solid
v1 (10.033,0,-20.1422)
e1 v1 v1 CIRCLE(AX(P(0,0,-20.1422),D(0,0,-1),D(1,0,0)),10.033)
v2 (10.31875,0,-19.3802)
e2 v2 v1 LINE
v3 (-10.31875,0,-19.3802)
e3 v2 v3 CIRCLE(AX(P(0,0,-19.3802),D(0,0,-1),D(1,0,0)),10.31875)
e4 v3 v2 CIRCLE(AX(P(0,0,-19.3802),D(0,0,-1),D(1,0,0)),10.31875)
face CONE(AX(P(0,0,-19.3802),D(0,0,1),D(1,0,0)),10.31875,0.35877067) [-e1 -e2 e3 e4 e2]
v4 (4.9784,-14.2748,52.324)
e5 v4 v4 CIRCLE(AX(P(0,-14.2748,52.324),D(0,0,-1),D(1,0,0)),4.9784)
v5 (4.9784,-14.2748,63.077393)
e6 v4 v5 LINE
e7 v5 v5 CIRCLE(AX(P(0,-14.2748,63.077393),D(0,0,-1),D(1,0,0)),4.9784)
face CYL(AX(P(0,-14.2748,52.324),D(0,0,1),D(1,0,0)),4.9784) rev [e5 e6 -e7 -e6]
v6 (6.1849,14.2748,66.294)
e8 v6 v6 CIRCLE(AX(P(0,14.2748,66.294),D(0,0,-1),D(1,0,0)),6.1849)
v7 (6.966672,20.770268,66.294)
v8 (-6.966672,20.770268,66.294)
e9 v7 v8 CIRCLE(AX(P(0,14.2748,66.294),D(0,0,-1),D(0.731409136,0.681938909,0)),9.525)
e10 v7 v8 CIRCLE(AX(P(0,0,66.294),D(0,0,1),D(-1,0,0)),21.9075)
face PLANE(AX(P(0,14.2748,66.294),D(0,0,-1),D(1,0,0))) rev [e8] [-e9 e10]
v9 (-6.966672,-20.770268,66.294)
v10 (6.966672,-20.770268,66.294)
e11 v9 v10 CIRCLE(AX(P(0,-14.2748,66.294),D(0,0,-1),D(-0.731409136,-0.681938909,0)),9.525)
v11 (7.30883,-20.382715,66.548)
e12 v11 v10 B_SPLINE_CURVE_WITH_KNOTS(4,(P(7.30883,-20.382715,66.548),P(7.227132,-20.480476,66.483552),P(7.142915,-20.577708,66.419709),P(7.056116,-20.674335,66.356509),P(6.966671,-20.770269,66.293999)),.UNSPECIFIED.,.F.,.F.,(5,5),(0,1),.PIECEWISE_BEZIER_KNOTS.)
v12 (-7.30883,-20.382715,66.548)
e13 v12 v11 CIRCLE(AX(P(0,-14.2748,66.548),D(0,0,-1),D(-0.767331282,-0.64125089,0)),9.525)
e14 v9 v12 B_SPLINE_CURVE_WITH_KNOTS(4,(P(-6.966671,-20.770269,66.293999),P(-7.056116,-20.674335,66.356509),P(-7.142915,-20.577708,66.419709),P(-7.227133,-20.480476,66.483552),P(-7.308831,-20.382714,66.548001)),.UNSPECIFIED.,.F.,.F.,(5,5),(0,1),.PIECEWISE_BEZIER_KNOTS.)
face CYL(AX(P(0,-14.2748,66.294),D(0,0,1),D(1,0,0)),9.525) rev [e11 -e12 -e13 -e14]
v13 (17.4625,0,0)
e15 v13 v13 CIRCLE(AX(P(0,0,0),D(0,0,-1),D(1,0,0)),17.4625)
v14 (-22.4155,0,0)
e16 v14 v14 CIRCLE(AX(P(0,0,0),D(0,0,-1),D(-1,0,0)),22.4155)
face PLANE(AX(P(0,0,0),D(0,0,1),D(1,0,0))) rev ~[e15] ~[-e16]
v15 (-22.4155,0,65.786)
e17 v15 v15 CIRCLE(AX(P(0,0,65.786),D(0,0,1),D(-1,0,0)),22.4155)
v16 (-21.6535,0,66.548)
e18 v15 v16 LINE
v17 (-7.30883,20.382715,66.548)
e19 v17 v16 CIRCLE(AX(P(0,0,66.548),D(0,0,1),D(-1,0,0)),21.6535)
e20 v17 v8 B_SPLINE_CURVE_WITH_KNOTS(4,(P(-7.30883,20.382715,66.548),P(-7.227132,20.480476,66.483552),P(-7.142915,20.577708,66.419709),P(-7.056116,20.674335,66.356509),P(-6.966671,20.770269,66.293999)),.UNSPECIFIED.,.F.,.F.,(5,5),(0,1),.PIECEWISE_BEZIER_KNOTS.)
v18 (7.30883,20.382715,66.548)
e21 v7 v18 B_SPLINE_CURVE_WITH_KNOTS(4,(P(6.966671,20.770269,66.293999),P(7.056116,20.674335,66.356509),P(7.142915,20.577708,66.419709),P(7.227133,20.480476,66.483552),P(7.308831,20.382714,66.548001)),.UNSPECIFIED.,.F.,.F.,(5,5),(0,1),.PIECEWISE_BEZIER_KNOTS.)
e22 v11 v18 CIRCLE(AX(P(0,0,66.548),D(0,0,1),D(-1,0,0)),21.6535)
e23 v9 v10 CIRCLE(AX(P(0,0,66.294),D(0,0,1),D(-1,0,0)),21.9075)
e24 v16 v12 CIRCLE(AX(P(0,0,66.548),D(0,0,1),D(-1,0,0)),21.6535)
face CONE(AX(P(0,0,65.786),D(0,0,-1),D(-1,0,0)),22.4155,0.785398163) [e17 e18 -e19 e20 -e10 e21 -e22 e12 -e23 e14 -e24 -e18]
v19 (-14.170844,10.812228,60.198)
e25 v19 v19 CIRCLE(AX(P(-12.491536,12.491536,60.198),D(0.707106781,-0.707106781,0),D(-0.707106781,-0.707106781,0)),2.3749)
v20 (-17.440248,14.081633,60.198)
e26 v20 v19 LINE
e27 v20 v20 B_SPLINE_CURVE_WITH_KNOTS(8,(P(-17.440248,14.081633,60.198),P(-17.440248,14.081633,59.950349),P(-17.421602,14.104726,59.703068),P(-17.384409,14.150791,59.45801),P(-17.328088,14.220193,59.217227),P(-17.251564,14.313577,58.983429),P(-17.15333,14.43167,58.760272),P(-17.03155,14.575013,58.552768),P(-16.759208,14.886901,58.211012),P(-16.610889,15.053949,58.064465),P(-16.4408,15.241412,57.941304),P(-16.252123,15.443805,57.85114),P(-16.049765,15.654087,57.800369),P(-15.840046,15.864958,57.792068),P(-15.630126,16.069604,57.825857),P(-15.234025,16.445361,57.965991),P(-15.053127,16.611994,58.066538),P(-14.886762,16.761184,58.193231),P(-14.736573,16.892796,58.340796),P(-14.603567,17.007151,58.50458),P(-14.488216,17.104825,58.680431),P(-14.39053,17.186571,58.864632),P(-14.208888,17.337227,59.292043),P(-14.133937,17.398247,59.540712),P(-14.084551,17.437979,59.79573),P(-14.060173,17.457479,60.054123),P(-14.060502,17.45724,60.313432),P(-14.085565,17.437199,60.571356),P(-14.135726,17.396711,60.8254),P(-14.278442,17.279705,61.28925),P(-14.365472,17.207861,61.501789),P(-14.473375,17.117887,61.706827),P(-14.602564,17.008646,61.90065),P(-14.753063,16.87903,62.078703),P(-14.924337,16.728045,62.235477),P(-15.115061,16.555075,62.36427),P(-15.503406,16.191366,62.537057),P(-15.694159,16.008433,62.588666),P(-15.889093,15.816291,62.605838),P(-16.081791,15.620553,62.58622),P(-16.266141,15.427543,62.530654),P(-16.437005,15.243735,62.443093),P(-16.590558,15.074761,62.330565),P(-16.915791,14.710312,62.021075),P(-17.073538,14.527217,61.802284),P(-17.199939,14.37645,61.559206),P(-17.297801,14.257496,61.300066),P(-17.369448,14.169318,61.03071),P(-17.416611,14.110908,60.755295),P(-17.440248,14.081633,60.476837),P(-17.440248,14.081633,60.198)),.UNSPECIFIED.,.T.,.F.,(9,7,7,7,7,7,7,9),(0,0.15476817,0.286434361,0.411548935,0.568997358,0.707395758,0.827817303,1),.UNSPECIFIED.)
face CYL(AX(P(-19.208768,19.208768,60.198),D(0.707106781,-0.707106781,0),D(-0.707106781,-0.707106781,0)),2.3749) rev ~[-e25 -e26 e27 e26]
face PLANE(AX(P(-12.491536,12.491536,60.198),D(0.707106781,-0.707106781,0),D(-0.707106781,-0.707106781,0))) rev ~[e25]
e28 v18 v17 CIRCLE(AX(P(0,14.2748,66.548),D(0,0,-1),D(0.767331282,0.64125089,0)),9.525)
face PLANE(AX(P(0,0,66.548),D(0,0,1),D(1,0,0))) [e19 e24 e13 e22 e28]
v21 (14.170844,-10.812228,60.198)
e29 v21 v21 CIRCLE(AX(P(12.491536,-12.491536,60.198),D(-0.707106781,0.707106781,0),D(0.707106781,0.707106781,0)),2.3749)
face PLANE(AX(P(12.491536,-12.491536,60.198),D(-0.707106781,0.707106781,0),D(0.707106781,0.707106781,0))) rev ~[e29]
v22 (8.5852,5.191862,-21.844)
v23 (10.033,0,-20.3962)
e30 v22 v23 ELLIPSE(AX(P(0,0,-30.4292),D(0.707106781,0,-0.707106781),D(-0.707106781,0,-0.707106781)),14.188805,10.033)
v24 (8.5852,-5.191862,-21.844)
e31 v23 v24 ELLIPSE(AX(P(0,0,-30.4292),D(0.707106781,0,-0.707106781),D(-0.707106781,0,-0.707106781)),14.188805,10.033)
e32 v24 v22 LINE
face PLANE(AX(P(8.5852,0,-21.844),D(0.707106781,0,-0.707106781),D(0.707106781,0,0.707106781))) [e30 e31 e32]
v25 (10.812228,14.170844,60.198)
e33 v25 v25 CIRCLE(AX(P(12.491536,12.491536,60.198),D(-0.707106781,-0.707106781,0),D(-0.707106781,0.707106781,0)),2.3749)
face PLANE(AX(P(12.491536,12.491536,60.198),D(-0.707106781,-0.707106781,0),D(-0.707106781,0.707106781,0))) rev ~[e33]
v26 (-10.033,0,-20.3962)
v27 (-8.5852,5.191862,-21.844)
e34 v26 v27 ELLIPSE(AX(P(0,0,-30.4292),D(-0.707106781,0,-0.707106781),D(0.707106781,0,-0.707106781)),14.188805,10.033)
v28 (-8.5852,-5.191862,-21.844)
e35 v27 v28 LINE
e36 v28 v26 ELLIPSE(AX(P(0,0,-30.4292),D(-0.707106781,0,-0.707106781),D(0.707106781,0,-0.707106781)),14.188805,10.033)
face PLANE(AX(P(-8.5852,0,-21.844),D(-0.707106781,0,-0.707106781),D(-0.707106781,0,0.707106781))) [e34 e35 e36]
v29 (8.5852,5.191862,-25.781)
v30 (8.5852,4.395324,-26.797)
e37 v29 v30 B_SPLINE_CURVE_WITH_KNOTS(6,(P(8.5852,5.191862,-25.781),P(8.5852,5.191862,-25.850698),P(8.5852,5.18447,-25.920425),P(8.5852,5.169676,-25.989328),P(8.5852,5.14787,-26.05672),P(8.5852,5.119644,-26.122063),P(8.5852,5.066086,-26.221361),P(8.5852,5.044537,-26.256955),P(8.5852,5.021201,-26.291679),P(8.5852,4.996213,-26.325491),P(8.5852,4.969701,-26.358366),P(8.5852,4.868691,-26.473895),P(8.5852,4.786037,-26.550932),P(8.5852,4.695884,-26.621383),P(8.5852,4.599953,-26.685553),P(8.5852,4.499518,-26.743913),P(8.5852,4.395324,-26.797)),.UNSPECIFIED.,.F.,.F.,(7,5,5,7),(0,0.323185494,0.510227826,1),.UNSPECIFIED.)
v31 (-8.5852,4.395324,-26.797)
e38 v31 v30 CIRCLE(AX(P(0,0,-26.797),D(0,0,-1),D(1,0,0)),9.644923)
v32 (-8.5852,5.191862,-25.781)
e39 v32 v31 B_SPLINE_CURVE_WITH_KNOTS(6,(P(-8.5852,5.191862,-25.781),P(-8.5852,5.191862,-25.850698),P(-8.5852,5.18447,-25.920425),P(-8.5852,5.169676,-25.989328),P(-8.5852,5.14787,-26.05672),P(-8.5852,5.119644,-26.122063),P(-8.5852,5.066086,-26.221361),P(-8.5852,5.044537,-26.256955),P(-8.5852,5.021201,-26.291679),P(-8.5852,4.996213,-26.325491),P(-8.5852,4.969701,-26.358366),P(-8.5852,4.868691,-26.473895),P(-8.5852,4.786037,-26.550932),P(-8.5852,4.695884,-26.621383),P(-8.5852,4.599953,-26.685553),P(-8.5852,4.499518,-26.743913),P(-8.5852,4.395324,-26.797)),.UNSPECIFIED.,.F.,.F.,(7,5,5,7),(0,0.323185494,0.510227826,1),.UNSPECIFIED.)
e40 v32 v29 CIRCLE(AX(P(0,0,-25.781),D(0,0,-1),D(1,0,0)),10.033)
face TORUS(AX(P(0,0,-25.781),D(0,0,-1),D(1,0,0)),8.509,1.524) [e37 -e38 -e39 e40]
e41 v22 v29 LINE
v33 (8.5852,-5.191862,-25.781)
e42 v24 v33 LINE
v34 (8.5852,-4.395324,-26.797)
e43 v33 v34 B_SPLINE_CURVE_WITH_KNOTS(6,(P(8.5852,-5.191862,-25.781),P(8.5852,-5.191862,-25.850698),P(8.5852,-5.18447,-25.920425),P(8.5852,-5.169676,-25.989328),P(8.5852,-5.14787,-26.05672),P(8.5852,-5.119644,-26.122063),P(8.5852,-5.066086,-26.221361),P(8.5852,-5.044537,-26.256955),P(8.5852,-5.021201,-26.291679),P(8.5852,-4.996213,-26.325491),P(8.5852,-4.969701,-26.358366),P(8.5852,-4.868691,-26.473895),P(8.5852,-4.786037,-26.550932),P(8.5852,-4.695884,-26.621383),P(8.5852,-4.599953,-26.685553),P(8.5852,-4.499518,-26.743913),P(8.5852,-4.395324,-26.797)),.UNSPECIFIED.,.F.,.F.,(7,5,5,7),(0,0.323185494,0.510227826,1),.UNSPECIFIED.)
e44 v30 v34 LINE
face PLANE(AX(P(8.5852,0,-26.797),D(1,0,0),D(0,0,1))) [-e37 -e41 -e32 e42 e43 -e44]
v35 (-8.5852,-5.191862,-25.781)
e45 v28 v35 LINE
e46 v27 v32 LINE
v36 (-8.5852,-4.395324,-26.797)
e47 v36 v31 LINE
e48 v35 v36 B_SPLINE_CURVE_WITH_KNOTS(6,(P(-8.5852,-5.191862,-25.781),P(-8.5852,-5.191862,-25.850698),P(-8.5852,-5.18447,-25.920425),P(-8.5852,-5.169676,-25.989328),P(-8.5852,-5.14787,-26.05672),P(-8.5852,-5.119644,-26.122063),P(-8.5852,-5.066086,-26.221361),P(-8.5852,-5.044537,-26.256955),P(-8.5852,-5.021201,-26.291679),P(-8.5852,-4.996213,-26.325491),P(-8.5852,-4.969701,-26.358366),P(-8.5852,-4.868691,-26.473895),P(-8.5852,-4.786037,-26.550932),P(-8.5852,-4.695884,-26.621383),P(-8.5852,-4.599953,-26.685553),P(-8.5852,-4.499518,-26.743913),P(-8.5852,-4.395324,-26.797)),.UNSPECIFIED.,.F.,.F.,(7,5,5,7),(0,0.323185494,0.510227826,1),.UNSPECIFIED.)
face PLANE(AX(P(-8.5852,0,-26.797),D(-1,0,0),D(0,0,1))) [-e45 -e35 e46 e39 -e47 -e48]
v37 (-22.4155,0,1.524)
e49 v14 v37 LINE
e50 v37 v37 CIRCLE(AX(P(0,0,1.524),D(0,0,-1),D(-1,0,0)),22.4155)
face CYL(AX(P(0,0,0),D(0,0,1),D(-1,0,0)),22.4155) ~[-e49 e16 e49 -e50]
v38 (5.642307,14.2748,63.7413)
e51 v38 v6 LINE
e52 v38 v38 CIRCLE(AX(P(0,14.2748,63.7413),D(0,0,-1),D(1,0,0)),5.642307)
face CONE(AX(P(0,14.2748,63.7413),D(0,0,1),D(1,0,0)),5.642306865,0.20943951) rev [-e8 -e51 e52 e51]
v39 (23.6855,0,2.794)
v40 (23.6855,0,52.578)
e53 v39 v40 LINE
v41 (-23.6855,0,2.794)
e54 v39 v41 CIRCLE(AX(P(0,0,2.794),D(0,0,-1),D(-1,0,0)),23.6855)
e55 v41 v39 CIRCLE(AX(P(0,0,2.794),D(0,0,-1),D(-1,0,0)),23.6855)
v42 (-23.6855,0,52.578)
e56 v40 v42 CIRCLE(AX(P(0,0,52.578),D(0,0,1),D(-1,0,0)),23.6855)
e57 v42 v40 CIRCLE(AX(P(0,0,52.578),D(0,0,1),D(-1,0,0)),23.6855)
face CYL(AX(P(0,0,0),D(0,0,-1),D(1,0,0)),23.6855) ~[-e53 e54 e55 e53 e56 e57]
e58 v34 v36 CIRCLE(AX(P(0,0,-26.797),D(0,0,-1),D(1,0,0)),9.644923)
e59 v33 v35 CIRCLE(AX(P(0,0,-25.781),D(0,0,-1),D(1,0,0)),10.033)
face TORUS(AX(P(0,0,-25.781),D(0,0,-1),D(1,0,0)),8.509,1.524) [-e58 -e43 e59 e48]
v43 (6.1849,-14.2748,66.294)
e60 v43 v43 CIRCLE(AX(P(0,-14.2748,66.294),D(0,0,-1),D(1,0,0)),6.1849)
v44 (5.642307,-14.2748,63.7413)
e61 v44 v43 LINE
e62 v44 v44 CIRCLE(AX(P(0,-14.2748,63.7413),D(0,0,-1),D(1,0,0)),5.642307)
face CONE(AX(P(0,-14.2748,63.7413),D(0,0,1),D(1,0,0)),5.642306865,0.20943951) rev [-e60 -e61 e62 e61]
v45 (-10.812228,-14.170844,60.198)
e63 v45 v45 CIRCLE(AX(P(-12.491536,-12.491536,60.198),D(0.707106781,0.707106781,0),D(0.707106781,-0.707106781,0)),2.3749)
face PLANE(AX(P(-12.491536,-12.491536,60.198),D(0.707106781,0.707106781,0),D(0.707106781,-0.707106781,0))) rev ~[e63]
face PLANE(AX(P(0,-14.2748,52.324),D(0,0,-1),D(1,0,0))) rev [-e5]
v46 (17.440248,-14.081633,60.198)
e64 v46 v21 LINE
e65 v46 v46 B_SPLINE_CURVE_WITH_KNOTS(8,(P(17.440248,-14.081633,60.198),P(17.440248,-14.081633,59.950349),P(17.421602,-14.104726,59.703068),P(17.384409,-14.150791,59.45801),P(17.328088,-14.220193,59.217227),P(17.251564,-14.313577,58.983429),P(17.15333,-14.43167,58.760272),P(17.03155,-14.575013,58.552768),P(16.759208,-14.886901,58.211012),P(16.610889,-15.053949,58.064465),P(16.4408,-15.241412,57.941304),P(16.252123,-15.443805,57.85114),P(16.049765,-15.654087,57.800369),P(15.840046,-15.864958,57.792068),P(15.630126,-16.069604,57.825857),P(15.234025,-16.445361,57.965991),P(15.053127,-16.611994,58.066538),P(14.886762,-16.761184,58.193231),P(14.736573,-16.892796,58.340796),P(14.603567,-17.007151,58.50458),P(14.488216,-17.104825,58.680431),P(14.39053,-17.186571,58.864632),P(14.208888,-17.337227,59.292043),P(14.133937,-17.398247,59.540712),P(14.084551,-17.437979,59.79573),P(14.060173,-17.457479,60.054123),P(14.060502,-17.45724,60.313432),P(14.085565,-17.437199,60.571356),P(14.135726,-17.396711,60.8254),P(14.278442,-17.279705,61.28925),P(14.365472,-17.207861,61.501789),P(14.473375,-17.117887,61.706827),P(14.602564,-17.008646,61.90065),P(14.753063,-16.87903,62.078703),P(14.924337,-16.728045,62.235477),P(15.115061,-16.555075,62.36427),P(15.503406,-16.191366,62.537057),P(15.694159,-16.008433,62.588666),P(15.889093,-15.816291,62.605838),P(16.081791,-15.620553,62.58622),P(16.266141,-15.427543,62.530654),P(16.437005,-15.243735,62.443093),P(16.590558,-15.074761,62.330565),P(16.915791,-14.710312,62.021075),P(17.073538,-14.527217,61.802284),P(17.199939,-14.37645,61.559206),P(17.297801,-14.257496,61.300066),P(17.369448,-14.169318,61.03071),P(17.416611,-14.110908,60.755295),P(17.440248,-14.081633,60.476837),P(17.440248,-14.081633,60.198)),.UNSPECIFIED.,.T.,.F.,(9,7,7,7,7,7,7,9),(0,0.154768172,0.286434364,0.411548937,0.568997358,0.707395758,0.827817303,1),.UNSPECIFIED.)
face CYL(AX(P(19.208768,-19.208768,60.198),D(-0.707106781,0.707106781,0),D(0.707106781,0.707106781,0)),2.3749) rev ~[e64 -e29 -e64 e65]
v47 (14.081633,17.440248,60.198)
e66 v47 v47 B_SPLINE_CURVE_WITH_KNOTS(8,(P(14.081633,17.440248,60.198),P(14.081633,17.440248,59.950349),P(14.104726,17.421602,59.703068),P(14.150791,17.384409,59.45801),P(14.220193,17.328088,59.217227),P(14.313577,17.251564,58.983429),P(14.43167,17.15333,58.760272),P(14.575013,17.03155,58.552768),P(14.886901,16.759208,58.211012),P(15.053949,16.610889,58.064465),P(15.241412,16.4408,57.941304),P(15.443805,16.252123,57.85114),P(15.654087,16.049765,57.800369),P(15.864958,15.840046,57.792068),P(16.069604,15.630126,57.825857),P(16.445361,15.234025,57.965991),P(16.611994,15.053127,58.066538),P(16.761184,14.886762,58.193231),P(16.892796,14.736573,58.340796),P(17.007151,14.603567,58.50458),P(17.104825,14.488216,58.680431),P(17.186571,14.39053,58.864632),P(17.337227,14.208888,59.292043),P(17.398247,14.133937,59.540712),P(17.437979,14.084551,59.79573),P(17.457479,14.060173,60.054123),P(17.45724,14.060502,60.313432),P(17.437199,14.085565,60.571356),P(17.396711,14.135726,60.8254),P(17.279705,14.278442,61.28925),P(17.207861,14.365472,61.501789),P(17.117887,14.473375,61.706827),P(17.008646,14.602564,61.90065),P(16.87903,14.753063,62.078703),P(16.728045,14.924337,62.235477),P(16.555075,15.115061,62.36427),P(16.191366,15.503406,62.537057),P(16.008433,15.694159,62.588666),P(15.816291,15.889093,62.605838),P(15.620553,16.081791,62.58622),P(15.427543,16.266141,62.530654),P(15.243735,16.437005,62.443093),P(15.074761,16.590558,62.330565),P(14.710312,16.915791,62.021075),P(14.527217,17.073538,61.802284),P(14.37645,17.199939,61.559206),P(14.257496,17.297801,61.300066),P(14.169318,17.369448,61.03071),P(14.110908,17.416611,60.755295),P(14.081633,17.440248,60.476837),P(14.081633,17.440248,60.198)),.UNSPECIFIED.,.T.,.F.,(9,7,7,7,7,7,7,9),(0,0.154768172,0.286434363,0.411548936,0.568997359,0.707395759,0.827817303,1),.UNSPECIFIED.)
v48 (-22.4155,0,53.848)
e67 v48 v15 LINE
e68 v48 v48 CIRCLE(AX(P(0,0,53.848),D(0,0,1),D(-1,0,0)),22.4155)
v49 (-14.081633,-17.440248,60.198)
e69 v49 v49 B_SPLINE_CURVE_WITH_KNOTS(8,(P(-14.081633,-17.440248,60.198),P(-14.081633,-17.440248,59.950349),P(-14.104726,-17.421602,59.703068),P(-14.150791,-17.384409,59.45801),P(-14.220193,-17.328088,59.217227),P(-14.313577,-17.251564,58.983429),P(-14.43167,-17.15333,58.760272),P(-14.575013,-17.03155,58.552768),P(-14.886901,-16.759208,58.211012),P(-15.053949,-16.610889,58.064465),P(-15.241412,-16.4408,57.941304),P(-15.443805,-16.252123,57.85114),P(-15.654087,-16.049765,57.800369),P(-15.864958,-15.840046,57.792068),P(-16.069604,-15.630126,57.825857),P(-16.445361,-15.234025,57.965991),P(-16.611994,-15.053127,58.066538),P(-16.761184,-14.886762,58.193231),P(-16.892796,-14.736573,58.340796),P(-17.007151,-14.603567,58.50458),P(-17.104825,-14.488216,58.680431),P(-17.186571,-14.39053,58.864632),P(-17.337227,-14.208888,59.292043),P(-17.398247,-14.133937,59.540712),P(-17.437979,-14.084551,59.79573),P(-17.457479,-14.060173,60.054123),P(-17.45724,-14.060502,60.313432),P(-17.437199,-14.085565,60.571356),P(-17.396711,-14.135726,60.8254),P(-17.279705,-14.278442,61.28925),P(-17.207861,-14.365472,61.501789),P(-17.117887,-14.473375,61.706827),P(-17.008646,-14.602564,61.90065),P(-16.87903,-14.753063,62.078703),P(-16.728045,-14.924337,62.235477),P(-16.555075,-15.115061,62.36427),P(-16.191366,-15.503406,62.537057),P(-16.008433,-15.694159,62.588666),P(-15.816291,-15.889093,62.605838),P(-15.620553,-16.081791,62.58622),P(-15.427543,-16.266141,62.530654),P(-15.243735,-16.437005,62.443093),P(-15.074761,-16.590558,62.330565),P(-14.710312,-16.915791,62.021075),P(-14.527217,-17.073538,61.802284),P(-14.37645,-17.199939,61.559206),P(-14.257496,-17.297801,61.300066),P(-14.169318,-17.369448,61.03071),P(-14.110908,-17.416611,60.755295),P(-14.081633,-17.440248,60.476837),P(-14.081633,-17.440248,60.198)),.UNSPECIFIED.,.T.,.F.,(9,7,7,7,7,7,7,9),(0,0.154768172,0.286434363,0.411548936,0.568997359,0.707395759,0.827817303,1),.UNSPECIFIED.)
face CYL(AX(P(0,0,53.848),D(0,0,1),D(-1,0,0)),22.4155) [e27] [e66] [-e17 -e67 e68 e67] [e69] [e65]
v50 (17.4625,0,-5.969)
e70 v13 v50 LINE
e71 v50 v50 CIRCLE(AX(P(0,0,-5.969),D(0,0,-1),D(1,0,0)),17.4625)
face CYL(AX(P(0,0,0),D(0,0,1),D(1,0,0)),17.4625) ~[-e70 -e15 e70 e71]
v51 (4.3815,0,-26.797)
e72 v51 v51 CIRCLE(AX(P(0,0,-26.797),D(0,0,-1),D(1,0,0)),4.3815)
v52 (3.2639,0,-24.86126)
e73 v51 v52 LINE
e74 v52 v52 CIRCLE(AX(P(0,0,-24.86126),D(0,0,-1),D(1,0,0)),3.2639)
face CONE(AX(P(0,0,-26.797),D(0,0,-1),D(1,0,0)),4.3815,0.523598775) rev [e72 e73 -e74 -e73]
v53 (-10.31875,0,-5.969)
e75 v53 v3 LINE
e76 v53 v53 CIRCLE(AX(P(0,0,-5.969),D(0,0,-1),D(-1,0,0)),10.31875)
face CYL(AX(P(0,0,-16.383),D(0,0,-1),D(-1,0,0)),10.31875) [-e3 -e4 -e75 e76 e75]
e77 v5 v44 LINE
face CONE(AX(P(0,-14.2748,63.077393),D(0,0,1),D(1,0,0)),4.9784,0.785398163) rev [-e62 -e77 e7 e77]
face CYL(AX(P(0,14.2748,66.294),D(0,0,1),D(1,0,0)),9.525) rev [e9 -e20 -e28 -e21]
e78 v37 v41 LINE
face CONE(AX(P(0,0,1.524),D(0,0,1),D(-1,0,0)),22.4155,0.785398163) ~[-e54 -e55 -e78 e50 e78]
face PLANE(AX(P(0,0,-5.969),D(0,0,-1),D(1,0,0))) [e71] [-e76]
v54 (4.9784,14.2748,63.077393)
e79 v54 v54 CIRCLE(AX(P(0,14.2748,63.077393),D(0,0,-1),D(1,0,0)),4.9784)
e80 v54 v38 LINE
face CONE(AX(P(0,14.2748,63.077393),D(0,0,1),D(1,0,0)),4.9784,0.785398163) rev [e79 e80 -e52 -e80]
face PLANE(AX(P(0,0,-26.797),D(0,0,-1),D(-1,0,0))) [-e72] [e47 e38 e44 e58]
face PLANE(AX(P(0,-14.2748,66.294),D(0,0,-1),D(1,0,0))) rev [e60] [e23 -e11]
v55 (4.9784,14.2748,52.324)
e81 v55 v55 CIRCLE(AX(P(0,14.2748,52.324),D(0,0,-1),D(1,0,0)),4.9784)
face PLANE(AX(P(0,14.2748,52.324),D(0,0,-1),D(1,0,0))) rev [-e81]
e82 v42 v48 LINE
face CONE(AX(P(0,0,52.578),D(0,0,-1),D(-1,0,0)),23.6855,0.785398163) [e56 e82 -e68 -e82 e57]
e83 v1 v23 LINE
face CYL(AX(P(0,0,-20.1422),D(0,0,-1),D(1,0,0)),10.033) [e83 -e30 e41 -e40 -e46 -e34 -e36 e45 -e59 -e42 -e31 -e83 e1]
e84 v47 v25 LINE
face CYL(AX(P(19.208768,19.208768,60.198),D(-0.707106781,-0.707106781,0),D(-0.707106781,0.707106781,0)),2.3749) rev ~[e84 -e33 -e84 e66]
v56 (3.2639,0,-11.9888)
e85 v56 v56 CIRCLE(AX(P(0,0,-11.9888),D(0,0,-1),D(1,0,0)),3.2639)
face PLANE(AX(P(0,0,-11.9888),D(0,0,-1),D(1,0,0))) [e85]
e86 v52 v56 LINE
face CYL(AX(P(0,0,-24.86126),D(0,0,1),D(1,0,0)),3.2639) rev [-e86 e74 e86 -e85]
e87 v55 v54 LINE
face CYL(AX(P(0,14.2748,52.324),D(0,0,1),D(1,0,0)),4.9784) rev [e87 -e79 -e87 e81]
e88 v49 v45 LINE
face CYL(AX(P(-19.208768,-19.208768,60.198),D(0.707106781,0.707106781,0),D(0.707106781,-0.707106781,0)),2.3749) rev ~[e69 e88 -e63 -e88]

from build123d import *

# Parameters (mm, degrees)
SKETCH1_R          = 23.6855
EXTRUDE1_DEPTH     = 66.548
CHAMFER1_SIZE      = 0.762
SKETCH6_R          = 17.4625
EXTRUDE2_DEPTH     = 5.969
SKETCH7_W          = 20.828
SKETCH7_H          = 10.31875
CUT_EXTRUDE4_DEPTH = 19.84248
HOLE1_D            = 4.7498
HOLE1_DEPTH        = 4.7498
CIRPATTERN1_COUNT  = 4
LPATTERN1_COUNT    = 2
LPATTERN1_PITCH    = 28.5496


with BuildPart() as part:
    # Sketch1 → Extrude1 (new body)
    with BuildSketch(Plane.XY):
        Circle(SKETCH1_R)
    extrude(amount=EXTRUDE1_DEPTH)

    # Sketch2 → Cut-Revolve1 (revolve, cut)
    with BuildSketch(Plane(origin=(0, 0, 0), x_dir=(1, 0, 0), z_dir=(0, 1, 0)), mode=Mode.PRIVATE) as cut_revolve1_sk:
        Polygon((23.6855, -66.548), (23.6855, -52.578), (22.4155, -53.848), (22.4155, -66.548), align=None)
    revolve(cut_revolve1_sk.sketch.rotate(Axis((0, 0, 0), (0, 0, 1)), 180), axis=Axis((0, 0, 0), (0, 0, 1)), mode=Mode.SUBTRACT)  # turned: the seam where the file's is

    # Sketch3 → Cut-Revolve2 (revolve, cut)
    with BuildSketch(Plane(origin=(0, 0, 0), x_dir=(1, 0, 0), z_dir=(0, 1, 0)), mode=Mode.PRIVATE) as cut_revolve2_sk:
        Polygon((22.4155, 0), (22.4155, -1.524), (23.6855, -2.794), (23.6855, 0), align=None)
    revolve(cut_revolve2_sk.sketch.rotate(Axis((0, 0, 0), (0, 0, -1)), 180), axis=Axis((0, 0, 0), (0, 0, -1)), mode=Mode.SUBTRACT)  # turned: the seam where the file's is

    # Chamfer1
    chamfer1_edges = [part.edges().sort_by_distance(p)[0] for p in [
        (22.4155, 0, 66.548),
    ]]
    chamfer(chamfer1_edges, length=CHAMFER1_SIZE)

    # S2D0002 → Cut-Revolve3 (revolve, cut)
    with BuildSketch(Plane(origin=(0, 0, 0), x_dir=(0, -1, 0), z_dir=(1, 0, 0)), mode=Mode.PRIVATE) as cut_revolve3_sk:
        Polygon((20.4597, -66.294), (23.7998, -66.294), (23.7998, -66.548), (14.2748, -66.548), (14.2748, -52.324), (19.2532, -52.324), (19.2532, -63.077393135), (19.917106865, -63.7413), align=None)
    cut_revolve3 = revolve(cut_revolve3_sk.sketch.rotate(Axis((0, -14.2748, 14.6685), (0, 0, -1)), 270), axis=Axis((0, -14.2748, 14.6685), (0, 0, -1)), mode=Mode.SUBTRACT)  # turned: the seam where the file's is

    # Sketch6 → Extrude2 (add)
    with BuildSketch(Plane(origin=(0, 0, 0), x_dir=(-1, 0, 0), z_dir=(0, 0, -1))):
        with Locations(Location((0, 0, 0), (0, 0, 180))):  # turned: the seam where the file's is
            Circle(SKETCH6_R)
    extrude(amount=EXTRUDE2_DEPTH)

    # Sketch7 → Revolve1 (revolve)
    with BuildSketch(Plane(origin=(0, 0, 0), x_dir=(0, 0, -1), z_dir=(1, 0, 0)), mode=Mode.PRIVATE) as revolve1_sk:
        with Locations((16.383, -5.159375)):
            Rectangle(SKETCH7_W, SKETCH7_H)
    revolve(revolve1_sk.sketch.rotate(Axis((0, 0, 0), (0, 0, -1)), 90), axis=Axis((0, 0, 0), (0, 0, -1)))  # turned: the seam where the file's is

    # S2D0001 → Cut-Revolve5 (revolve, cut)
    with BuildSketch(Plane(origin=(0, 0, 0), x_dir=(1, 0, 0), z_dir=(0, 1, 0))):
        Polygon((3.2639, 24.861260017), (3.2639, 11.9888), (0, 11.9888), (0, 26.797), (4.3815, 26.797), align=None)
    revolve(axis=Axis((0, 0, 31.308359971), (0, 0, -1)), mode=Mode.SUBTRACT)

    # Sketch9 → Cut-Revolve6 (revolve, cut)
    with BuildSketch(Plane(origin=(0, 0, 0), x_dir=(0, -1, 0), z_dir=(1, 0, 0)), mode=Mode.PRIVATE) as cut_revolve6_sk:
        with BuildLine():
            Line((-10.31875, 19.3802), (-10.033, 20.1422))
            Line((-10.033, 20.1422), (-10.033, 25.781))
            ThreePointArc((-10.033, 25.781), (-9.932678675, 26.324796865), (-9.644922533, 26.797))
            Line((-9.644922533, 26.797), (-10.31875, 26.797))
            Line((-10.31875, 26.797), (-10.31875, 19.3802))
        make_face()
    revolve(cut_revolve6_sk.sketch.rotate(Axis((0, 0, -12.65936), (0, 0, -1)), 90), axis=Axis((0, 0, -12.65936), (0, 0, -1)), mode=Mode.SUBTRACT)  # turned: the seam where the file's is

    # Sketch13 → Cut-Extrude4 (cut, symmetric)
    with BuildSketch(Plane(origin=(0, 0, 0), x_dir=(1, 0, 0), z_dir=(0, 1, 0))):
        Polygon((8.5852, 26.797), (8.5852, 21.844), (10.033, 20.3962), (10.033, 26.797), align=None)
        Polygon((-8.5852, 26.797), (-8.5852, 21.844), (-10.033, 20.3962), (-10.033, 26.797), align=None)
    extrude(amount=CUT_EXTRUDE4_DEPTH, both=True, mode=Mode.SUBTRACT)

    # Hole1
    with Locations(Plane(origin=(-15.850152054, 15.850152054, 60.198), x_dir=(0.707106781, 0.707106781, 0), z_dir=(-0.707106781, 0.707106781, 0))):
        with Locations((0, 0)):
            hole1 = Hole(HOLE1_D / 2, depth=HOLE1_DEPTH)

    # CirPattern1: Hole1 ×4 about axis
    cirpattern1_axis = Axis((0, 0, 0), (0, 0, 1))
    for i in range(1, CIRPATTERN1_COUNT):
        add(hole1.rotate(cirpattern1_axis, i * 360 / CIRPATTERN1_COUNT), mode=Mode.SUBTRACT)

    # LPattern1: Cut-Revolve3 ×2
    with Locations(*[(0, i * LPATTERN1_PITCH, 0) for i in range(1, LPATTERN1_COUNT)]):
        add(cut_revolve3, mode=Mode.SUBTRACT)


solid = part.part
